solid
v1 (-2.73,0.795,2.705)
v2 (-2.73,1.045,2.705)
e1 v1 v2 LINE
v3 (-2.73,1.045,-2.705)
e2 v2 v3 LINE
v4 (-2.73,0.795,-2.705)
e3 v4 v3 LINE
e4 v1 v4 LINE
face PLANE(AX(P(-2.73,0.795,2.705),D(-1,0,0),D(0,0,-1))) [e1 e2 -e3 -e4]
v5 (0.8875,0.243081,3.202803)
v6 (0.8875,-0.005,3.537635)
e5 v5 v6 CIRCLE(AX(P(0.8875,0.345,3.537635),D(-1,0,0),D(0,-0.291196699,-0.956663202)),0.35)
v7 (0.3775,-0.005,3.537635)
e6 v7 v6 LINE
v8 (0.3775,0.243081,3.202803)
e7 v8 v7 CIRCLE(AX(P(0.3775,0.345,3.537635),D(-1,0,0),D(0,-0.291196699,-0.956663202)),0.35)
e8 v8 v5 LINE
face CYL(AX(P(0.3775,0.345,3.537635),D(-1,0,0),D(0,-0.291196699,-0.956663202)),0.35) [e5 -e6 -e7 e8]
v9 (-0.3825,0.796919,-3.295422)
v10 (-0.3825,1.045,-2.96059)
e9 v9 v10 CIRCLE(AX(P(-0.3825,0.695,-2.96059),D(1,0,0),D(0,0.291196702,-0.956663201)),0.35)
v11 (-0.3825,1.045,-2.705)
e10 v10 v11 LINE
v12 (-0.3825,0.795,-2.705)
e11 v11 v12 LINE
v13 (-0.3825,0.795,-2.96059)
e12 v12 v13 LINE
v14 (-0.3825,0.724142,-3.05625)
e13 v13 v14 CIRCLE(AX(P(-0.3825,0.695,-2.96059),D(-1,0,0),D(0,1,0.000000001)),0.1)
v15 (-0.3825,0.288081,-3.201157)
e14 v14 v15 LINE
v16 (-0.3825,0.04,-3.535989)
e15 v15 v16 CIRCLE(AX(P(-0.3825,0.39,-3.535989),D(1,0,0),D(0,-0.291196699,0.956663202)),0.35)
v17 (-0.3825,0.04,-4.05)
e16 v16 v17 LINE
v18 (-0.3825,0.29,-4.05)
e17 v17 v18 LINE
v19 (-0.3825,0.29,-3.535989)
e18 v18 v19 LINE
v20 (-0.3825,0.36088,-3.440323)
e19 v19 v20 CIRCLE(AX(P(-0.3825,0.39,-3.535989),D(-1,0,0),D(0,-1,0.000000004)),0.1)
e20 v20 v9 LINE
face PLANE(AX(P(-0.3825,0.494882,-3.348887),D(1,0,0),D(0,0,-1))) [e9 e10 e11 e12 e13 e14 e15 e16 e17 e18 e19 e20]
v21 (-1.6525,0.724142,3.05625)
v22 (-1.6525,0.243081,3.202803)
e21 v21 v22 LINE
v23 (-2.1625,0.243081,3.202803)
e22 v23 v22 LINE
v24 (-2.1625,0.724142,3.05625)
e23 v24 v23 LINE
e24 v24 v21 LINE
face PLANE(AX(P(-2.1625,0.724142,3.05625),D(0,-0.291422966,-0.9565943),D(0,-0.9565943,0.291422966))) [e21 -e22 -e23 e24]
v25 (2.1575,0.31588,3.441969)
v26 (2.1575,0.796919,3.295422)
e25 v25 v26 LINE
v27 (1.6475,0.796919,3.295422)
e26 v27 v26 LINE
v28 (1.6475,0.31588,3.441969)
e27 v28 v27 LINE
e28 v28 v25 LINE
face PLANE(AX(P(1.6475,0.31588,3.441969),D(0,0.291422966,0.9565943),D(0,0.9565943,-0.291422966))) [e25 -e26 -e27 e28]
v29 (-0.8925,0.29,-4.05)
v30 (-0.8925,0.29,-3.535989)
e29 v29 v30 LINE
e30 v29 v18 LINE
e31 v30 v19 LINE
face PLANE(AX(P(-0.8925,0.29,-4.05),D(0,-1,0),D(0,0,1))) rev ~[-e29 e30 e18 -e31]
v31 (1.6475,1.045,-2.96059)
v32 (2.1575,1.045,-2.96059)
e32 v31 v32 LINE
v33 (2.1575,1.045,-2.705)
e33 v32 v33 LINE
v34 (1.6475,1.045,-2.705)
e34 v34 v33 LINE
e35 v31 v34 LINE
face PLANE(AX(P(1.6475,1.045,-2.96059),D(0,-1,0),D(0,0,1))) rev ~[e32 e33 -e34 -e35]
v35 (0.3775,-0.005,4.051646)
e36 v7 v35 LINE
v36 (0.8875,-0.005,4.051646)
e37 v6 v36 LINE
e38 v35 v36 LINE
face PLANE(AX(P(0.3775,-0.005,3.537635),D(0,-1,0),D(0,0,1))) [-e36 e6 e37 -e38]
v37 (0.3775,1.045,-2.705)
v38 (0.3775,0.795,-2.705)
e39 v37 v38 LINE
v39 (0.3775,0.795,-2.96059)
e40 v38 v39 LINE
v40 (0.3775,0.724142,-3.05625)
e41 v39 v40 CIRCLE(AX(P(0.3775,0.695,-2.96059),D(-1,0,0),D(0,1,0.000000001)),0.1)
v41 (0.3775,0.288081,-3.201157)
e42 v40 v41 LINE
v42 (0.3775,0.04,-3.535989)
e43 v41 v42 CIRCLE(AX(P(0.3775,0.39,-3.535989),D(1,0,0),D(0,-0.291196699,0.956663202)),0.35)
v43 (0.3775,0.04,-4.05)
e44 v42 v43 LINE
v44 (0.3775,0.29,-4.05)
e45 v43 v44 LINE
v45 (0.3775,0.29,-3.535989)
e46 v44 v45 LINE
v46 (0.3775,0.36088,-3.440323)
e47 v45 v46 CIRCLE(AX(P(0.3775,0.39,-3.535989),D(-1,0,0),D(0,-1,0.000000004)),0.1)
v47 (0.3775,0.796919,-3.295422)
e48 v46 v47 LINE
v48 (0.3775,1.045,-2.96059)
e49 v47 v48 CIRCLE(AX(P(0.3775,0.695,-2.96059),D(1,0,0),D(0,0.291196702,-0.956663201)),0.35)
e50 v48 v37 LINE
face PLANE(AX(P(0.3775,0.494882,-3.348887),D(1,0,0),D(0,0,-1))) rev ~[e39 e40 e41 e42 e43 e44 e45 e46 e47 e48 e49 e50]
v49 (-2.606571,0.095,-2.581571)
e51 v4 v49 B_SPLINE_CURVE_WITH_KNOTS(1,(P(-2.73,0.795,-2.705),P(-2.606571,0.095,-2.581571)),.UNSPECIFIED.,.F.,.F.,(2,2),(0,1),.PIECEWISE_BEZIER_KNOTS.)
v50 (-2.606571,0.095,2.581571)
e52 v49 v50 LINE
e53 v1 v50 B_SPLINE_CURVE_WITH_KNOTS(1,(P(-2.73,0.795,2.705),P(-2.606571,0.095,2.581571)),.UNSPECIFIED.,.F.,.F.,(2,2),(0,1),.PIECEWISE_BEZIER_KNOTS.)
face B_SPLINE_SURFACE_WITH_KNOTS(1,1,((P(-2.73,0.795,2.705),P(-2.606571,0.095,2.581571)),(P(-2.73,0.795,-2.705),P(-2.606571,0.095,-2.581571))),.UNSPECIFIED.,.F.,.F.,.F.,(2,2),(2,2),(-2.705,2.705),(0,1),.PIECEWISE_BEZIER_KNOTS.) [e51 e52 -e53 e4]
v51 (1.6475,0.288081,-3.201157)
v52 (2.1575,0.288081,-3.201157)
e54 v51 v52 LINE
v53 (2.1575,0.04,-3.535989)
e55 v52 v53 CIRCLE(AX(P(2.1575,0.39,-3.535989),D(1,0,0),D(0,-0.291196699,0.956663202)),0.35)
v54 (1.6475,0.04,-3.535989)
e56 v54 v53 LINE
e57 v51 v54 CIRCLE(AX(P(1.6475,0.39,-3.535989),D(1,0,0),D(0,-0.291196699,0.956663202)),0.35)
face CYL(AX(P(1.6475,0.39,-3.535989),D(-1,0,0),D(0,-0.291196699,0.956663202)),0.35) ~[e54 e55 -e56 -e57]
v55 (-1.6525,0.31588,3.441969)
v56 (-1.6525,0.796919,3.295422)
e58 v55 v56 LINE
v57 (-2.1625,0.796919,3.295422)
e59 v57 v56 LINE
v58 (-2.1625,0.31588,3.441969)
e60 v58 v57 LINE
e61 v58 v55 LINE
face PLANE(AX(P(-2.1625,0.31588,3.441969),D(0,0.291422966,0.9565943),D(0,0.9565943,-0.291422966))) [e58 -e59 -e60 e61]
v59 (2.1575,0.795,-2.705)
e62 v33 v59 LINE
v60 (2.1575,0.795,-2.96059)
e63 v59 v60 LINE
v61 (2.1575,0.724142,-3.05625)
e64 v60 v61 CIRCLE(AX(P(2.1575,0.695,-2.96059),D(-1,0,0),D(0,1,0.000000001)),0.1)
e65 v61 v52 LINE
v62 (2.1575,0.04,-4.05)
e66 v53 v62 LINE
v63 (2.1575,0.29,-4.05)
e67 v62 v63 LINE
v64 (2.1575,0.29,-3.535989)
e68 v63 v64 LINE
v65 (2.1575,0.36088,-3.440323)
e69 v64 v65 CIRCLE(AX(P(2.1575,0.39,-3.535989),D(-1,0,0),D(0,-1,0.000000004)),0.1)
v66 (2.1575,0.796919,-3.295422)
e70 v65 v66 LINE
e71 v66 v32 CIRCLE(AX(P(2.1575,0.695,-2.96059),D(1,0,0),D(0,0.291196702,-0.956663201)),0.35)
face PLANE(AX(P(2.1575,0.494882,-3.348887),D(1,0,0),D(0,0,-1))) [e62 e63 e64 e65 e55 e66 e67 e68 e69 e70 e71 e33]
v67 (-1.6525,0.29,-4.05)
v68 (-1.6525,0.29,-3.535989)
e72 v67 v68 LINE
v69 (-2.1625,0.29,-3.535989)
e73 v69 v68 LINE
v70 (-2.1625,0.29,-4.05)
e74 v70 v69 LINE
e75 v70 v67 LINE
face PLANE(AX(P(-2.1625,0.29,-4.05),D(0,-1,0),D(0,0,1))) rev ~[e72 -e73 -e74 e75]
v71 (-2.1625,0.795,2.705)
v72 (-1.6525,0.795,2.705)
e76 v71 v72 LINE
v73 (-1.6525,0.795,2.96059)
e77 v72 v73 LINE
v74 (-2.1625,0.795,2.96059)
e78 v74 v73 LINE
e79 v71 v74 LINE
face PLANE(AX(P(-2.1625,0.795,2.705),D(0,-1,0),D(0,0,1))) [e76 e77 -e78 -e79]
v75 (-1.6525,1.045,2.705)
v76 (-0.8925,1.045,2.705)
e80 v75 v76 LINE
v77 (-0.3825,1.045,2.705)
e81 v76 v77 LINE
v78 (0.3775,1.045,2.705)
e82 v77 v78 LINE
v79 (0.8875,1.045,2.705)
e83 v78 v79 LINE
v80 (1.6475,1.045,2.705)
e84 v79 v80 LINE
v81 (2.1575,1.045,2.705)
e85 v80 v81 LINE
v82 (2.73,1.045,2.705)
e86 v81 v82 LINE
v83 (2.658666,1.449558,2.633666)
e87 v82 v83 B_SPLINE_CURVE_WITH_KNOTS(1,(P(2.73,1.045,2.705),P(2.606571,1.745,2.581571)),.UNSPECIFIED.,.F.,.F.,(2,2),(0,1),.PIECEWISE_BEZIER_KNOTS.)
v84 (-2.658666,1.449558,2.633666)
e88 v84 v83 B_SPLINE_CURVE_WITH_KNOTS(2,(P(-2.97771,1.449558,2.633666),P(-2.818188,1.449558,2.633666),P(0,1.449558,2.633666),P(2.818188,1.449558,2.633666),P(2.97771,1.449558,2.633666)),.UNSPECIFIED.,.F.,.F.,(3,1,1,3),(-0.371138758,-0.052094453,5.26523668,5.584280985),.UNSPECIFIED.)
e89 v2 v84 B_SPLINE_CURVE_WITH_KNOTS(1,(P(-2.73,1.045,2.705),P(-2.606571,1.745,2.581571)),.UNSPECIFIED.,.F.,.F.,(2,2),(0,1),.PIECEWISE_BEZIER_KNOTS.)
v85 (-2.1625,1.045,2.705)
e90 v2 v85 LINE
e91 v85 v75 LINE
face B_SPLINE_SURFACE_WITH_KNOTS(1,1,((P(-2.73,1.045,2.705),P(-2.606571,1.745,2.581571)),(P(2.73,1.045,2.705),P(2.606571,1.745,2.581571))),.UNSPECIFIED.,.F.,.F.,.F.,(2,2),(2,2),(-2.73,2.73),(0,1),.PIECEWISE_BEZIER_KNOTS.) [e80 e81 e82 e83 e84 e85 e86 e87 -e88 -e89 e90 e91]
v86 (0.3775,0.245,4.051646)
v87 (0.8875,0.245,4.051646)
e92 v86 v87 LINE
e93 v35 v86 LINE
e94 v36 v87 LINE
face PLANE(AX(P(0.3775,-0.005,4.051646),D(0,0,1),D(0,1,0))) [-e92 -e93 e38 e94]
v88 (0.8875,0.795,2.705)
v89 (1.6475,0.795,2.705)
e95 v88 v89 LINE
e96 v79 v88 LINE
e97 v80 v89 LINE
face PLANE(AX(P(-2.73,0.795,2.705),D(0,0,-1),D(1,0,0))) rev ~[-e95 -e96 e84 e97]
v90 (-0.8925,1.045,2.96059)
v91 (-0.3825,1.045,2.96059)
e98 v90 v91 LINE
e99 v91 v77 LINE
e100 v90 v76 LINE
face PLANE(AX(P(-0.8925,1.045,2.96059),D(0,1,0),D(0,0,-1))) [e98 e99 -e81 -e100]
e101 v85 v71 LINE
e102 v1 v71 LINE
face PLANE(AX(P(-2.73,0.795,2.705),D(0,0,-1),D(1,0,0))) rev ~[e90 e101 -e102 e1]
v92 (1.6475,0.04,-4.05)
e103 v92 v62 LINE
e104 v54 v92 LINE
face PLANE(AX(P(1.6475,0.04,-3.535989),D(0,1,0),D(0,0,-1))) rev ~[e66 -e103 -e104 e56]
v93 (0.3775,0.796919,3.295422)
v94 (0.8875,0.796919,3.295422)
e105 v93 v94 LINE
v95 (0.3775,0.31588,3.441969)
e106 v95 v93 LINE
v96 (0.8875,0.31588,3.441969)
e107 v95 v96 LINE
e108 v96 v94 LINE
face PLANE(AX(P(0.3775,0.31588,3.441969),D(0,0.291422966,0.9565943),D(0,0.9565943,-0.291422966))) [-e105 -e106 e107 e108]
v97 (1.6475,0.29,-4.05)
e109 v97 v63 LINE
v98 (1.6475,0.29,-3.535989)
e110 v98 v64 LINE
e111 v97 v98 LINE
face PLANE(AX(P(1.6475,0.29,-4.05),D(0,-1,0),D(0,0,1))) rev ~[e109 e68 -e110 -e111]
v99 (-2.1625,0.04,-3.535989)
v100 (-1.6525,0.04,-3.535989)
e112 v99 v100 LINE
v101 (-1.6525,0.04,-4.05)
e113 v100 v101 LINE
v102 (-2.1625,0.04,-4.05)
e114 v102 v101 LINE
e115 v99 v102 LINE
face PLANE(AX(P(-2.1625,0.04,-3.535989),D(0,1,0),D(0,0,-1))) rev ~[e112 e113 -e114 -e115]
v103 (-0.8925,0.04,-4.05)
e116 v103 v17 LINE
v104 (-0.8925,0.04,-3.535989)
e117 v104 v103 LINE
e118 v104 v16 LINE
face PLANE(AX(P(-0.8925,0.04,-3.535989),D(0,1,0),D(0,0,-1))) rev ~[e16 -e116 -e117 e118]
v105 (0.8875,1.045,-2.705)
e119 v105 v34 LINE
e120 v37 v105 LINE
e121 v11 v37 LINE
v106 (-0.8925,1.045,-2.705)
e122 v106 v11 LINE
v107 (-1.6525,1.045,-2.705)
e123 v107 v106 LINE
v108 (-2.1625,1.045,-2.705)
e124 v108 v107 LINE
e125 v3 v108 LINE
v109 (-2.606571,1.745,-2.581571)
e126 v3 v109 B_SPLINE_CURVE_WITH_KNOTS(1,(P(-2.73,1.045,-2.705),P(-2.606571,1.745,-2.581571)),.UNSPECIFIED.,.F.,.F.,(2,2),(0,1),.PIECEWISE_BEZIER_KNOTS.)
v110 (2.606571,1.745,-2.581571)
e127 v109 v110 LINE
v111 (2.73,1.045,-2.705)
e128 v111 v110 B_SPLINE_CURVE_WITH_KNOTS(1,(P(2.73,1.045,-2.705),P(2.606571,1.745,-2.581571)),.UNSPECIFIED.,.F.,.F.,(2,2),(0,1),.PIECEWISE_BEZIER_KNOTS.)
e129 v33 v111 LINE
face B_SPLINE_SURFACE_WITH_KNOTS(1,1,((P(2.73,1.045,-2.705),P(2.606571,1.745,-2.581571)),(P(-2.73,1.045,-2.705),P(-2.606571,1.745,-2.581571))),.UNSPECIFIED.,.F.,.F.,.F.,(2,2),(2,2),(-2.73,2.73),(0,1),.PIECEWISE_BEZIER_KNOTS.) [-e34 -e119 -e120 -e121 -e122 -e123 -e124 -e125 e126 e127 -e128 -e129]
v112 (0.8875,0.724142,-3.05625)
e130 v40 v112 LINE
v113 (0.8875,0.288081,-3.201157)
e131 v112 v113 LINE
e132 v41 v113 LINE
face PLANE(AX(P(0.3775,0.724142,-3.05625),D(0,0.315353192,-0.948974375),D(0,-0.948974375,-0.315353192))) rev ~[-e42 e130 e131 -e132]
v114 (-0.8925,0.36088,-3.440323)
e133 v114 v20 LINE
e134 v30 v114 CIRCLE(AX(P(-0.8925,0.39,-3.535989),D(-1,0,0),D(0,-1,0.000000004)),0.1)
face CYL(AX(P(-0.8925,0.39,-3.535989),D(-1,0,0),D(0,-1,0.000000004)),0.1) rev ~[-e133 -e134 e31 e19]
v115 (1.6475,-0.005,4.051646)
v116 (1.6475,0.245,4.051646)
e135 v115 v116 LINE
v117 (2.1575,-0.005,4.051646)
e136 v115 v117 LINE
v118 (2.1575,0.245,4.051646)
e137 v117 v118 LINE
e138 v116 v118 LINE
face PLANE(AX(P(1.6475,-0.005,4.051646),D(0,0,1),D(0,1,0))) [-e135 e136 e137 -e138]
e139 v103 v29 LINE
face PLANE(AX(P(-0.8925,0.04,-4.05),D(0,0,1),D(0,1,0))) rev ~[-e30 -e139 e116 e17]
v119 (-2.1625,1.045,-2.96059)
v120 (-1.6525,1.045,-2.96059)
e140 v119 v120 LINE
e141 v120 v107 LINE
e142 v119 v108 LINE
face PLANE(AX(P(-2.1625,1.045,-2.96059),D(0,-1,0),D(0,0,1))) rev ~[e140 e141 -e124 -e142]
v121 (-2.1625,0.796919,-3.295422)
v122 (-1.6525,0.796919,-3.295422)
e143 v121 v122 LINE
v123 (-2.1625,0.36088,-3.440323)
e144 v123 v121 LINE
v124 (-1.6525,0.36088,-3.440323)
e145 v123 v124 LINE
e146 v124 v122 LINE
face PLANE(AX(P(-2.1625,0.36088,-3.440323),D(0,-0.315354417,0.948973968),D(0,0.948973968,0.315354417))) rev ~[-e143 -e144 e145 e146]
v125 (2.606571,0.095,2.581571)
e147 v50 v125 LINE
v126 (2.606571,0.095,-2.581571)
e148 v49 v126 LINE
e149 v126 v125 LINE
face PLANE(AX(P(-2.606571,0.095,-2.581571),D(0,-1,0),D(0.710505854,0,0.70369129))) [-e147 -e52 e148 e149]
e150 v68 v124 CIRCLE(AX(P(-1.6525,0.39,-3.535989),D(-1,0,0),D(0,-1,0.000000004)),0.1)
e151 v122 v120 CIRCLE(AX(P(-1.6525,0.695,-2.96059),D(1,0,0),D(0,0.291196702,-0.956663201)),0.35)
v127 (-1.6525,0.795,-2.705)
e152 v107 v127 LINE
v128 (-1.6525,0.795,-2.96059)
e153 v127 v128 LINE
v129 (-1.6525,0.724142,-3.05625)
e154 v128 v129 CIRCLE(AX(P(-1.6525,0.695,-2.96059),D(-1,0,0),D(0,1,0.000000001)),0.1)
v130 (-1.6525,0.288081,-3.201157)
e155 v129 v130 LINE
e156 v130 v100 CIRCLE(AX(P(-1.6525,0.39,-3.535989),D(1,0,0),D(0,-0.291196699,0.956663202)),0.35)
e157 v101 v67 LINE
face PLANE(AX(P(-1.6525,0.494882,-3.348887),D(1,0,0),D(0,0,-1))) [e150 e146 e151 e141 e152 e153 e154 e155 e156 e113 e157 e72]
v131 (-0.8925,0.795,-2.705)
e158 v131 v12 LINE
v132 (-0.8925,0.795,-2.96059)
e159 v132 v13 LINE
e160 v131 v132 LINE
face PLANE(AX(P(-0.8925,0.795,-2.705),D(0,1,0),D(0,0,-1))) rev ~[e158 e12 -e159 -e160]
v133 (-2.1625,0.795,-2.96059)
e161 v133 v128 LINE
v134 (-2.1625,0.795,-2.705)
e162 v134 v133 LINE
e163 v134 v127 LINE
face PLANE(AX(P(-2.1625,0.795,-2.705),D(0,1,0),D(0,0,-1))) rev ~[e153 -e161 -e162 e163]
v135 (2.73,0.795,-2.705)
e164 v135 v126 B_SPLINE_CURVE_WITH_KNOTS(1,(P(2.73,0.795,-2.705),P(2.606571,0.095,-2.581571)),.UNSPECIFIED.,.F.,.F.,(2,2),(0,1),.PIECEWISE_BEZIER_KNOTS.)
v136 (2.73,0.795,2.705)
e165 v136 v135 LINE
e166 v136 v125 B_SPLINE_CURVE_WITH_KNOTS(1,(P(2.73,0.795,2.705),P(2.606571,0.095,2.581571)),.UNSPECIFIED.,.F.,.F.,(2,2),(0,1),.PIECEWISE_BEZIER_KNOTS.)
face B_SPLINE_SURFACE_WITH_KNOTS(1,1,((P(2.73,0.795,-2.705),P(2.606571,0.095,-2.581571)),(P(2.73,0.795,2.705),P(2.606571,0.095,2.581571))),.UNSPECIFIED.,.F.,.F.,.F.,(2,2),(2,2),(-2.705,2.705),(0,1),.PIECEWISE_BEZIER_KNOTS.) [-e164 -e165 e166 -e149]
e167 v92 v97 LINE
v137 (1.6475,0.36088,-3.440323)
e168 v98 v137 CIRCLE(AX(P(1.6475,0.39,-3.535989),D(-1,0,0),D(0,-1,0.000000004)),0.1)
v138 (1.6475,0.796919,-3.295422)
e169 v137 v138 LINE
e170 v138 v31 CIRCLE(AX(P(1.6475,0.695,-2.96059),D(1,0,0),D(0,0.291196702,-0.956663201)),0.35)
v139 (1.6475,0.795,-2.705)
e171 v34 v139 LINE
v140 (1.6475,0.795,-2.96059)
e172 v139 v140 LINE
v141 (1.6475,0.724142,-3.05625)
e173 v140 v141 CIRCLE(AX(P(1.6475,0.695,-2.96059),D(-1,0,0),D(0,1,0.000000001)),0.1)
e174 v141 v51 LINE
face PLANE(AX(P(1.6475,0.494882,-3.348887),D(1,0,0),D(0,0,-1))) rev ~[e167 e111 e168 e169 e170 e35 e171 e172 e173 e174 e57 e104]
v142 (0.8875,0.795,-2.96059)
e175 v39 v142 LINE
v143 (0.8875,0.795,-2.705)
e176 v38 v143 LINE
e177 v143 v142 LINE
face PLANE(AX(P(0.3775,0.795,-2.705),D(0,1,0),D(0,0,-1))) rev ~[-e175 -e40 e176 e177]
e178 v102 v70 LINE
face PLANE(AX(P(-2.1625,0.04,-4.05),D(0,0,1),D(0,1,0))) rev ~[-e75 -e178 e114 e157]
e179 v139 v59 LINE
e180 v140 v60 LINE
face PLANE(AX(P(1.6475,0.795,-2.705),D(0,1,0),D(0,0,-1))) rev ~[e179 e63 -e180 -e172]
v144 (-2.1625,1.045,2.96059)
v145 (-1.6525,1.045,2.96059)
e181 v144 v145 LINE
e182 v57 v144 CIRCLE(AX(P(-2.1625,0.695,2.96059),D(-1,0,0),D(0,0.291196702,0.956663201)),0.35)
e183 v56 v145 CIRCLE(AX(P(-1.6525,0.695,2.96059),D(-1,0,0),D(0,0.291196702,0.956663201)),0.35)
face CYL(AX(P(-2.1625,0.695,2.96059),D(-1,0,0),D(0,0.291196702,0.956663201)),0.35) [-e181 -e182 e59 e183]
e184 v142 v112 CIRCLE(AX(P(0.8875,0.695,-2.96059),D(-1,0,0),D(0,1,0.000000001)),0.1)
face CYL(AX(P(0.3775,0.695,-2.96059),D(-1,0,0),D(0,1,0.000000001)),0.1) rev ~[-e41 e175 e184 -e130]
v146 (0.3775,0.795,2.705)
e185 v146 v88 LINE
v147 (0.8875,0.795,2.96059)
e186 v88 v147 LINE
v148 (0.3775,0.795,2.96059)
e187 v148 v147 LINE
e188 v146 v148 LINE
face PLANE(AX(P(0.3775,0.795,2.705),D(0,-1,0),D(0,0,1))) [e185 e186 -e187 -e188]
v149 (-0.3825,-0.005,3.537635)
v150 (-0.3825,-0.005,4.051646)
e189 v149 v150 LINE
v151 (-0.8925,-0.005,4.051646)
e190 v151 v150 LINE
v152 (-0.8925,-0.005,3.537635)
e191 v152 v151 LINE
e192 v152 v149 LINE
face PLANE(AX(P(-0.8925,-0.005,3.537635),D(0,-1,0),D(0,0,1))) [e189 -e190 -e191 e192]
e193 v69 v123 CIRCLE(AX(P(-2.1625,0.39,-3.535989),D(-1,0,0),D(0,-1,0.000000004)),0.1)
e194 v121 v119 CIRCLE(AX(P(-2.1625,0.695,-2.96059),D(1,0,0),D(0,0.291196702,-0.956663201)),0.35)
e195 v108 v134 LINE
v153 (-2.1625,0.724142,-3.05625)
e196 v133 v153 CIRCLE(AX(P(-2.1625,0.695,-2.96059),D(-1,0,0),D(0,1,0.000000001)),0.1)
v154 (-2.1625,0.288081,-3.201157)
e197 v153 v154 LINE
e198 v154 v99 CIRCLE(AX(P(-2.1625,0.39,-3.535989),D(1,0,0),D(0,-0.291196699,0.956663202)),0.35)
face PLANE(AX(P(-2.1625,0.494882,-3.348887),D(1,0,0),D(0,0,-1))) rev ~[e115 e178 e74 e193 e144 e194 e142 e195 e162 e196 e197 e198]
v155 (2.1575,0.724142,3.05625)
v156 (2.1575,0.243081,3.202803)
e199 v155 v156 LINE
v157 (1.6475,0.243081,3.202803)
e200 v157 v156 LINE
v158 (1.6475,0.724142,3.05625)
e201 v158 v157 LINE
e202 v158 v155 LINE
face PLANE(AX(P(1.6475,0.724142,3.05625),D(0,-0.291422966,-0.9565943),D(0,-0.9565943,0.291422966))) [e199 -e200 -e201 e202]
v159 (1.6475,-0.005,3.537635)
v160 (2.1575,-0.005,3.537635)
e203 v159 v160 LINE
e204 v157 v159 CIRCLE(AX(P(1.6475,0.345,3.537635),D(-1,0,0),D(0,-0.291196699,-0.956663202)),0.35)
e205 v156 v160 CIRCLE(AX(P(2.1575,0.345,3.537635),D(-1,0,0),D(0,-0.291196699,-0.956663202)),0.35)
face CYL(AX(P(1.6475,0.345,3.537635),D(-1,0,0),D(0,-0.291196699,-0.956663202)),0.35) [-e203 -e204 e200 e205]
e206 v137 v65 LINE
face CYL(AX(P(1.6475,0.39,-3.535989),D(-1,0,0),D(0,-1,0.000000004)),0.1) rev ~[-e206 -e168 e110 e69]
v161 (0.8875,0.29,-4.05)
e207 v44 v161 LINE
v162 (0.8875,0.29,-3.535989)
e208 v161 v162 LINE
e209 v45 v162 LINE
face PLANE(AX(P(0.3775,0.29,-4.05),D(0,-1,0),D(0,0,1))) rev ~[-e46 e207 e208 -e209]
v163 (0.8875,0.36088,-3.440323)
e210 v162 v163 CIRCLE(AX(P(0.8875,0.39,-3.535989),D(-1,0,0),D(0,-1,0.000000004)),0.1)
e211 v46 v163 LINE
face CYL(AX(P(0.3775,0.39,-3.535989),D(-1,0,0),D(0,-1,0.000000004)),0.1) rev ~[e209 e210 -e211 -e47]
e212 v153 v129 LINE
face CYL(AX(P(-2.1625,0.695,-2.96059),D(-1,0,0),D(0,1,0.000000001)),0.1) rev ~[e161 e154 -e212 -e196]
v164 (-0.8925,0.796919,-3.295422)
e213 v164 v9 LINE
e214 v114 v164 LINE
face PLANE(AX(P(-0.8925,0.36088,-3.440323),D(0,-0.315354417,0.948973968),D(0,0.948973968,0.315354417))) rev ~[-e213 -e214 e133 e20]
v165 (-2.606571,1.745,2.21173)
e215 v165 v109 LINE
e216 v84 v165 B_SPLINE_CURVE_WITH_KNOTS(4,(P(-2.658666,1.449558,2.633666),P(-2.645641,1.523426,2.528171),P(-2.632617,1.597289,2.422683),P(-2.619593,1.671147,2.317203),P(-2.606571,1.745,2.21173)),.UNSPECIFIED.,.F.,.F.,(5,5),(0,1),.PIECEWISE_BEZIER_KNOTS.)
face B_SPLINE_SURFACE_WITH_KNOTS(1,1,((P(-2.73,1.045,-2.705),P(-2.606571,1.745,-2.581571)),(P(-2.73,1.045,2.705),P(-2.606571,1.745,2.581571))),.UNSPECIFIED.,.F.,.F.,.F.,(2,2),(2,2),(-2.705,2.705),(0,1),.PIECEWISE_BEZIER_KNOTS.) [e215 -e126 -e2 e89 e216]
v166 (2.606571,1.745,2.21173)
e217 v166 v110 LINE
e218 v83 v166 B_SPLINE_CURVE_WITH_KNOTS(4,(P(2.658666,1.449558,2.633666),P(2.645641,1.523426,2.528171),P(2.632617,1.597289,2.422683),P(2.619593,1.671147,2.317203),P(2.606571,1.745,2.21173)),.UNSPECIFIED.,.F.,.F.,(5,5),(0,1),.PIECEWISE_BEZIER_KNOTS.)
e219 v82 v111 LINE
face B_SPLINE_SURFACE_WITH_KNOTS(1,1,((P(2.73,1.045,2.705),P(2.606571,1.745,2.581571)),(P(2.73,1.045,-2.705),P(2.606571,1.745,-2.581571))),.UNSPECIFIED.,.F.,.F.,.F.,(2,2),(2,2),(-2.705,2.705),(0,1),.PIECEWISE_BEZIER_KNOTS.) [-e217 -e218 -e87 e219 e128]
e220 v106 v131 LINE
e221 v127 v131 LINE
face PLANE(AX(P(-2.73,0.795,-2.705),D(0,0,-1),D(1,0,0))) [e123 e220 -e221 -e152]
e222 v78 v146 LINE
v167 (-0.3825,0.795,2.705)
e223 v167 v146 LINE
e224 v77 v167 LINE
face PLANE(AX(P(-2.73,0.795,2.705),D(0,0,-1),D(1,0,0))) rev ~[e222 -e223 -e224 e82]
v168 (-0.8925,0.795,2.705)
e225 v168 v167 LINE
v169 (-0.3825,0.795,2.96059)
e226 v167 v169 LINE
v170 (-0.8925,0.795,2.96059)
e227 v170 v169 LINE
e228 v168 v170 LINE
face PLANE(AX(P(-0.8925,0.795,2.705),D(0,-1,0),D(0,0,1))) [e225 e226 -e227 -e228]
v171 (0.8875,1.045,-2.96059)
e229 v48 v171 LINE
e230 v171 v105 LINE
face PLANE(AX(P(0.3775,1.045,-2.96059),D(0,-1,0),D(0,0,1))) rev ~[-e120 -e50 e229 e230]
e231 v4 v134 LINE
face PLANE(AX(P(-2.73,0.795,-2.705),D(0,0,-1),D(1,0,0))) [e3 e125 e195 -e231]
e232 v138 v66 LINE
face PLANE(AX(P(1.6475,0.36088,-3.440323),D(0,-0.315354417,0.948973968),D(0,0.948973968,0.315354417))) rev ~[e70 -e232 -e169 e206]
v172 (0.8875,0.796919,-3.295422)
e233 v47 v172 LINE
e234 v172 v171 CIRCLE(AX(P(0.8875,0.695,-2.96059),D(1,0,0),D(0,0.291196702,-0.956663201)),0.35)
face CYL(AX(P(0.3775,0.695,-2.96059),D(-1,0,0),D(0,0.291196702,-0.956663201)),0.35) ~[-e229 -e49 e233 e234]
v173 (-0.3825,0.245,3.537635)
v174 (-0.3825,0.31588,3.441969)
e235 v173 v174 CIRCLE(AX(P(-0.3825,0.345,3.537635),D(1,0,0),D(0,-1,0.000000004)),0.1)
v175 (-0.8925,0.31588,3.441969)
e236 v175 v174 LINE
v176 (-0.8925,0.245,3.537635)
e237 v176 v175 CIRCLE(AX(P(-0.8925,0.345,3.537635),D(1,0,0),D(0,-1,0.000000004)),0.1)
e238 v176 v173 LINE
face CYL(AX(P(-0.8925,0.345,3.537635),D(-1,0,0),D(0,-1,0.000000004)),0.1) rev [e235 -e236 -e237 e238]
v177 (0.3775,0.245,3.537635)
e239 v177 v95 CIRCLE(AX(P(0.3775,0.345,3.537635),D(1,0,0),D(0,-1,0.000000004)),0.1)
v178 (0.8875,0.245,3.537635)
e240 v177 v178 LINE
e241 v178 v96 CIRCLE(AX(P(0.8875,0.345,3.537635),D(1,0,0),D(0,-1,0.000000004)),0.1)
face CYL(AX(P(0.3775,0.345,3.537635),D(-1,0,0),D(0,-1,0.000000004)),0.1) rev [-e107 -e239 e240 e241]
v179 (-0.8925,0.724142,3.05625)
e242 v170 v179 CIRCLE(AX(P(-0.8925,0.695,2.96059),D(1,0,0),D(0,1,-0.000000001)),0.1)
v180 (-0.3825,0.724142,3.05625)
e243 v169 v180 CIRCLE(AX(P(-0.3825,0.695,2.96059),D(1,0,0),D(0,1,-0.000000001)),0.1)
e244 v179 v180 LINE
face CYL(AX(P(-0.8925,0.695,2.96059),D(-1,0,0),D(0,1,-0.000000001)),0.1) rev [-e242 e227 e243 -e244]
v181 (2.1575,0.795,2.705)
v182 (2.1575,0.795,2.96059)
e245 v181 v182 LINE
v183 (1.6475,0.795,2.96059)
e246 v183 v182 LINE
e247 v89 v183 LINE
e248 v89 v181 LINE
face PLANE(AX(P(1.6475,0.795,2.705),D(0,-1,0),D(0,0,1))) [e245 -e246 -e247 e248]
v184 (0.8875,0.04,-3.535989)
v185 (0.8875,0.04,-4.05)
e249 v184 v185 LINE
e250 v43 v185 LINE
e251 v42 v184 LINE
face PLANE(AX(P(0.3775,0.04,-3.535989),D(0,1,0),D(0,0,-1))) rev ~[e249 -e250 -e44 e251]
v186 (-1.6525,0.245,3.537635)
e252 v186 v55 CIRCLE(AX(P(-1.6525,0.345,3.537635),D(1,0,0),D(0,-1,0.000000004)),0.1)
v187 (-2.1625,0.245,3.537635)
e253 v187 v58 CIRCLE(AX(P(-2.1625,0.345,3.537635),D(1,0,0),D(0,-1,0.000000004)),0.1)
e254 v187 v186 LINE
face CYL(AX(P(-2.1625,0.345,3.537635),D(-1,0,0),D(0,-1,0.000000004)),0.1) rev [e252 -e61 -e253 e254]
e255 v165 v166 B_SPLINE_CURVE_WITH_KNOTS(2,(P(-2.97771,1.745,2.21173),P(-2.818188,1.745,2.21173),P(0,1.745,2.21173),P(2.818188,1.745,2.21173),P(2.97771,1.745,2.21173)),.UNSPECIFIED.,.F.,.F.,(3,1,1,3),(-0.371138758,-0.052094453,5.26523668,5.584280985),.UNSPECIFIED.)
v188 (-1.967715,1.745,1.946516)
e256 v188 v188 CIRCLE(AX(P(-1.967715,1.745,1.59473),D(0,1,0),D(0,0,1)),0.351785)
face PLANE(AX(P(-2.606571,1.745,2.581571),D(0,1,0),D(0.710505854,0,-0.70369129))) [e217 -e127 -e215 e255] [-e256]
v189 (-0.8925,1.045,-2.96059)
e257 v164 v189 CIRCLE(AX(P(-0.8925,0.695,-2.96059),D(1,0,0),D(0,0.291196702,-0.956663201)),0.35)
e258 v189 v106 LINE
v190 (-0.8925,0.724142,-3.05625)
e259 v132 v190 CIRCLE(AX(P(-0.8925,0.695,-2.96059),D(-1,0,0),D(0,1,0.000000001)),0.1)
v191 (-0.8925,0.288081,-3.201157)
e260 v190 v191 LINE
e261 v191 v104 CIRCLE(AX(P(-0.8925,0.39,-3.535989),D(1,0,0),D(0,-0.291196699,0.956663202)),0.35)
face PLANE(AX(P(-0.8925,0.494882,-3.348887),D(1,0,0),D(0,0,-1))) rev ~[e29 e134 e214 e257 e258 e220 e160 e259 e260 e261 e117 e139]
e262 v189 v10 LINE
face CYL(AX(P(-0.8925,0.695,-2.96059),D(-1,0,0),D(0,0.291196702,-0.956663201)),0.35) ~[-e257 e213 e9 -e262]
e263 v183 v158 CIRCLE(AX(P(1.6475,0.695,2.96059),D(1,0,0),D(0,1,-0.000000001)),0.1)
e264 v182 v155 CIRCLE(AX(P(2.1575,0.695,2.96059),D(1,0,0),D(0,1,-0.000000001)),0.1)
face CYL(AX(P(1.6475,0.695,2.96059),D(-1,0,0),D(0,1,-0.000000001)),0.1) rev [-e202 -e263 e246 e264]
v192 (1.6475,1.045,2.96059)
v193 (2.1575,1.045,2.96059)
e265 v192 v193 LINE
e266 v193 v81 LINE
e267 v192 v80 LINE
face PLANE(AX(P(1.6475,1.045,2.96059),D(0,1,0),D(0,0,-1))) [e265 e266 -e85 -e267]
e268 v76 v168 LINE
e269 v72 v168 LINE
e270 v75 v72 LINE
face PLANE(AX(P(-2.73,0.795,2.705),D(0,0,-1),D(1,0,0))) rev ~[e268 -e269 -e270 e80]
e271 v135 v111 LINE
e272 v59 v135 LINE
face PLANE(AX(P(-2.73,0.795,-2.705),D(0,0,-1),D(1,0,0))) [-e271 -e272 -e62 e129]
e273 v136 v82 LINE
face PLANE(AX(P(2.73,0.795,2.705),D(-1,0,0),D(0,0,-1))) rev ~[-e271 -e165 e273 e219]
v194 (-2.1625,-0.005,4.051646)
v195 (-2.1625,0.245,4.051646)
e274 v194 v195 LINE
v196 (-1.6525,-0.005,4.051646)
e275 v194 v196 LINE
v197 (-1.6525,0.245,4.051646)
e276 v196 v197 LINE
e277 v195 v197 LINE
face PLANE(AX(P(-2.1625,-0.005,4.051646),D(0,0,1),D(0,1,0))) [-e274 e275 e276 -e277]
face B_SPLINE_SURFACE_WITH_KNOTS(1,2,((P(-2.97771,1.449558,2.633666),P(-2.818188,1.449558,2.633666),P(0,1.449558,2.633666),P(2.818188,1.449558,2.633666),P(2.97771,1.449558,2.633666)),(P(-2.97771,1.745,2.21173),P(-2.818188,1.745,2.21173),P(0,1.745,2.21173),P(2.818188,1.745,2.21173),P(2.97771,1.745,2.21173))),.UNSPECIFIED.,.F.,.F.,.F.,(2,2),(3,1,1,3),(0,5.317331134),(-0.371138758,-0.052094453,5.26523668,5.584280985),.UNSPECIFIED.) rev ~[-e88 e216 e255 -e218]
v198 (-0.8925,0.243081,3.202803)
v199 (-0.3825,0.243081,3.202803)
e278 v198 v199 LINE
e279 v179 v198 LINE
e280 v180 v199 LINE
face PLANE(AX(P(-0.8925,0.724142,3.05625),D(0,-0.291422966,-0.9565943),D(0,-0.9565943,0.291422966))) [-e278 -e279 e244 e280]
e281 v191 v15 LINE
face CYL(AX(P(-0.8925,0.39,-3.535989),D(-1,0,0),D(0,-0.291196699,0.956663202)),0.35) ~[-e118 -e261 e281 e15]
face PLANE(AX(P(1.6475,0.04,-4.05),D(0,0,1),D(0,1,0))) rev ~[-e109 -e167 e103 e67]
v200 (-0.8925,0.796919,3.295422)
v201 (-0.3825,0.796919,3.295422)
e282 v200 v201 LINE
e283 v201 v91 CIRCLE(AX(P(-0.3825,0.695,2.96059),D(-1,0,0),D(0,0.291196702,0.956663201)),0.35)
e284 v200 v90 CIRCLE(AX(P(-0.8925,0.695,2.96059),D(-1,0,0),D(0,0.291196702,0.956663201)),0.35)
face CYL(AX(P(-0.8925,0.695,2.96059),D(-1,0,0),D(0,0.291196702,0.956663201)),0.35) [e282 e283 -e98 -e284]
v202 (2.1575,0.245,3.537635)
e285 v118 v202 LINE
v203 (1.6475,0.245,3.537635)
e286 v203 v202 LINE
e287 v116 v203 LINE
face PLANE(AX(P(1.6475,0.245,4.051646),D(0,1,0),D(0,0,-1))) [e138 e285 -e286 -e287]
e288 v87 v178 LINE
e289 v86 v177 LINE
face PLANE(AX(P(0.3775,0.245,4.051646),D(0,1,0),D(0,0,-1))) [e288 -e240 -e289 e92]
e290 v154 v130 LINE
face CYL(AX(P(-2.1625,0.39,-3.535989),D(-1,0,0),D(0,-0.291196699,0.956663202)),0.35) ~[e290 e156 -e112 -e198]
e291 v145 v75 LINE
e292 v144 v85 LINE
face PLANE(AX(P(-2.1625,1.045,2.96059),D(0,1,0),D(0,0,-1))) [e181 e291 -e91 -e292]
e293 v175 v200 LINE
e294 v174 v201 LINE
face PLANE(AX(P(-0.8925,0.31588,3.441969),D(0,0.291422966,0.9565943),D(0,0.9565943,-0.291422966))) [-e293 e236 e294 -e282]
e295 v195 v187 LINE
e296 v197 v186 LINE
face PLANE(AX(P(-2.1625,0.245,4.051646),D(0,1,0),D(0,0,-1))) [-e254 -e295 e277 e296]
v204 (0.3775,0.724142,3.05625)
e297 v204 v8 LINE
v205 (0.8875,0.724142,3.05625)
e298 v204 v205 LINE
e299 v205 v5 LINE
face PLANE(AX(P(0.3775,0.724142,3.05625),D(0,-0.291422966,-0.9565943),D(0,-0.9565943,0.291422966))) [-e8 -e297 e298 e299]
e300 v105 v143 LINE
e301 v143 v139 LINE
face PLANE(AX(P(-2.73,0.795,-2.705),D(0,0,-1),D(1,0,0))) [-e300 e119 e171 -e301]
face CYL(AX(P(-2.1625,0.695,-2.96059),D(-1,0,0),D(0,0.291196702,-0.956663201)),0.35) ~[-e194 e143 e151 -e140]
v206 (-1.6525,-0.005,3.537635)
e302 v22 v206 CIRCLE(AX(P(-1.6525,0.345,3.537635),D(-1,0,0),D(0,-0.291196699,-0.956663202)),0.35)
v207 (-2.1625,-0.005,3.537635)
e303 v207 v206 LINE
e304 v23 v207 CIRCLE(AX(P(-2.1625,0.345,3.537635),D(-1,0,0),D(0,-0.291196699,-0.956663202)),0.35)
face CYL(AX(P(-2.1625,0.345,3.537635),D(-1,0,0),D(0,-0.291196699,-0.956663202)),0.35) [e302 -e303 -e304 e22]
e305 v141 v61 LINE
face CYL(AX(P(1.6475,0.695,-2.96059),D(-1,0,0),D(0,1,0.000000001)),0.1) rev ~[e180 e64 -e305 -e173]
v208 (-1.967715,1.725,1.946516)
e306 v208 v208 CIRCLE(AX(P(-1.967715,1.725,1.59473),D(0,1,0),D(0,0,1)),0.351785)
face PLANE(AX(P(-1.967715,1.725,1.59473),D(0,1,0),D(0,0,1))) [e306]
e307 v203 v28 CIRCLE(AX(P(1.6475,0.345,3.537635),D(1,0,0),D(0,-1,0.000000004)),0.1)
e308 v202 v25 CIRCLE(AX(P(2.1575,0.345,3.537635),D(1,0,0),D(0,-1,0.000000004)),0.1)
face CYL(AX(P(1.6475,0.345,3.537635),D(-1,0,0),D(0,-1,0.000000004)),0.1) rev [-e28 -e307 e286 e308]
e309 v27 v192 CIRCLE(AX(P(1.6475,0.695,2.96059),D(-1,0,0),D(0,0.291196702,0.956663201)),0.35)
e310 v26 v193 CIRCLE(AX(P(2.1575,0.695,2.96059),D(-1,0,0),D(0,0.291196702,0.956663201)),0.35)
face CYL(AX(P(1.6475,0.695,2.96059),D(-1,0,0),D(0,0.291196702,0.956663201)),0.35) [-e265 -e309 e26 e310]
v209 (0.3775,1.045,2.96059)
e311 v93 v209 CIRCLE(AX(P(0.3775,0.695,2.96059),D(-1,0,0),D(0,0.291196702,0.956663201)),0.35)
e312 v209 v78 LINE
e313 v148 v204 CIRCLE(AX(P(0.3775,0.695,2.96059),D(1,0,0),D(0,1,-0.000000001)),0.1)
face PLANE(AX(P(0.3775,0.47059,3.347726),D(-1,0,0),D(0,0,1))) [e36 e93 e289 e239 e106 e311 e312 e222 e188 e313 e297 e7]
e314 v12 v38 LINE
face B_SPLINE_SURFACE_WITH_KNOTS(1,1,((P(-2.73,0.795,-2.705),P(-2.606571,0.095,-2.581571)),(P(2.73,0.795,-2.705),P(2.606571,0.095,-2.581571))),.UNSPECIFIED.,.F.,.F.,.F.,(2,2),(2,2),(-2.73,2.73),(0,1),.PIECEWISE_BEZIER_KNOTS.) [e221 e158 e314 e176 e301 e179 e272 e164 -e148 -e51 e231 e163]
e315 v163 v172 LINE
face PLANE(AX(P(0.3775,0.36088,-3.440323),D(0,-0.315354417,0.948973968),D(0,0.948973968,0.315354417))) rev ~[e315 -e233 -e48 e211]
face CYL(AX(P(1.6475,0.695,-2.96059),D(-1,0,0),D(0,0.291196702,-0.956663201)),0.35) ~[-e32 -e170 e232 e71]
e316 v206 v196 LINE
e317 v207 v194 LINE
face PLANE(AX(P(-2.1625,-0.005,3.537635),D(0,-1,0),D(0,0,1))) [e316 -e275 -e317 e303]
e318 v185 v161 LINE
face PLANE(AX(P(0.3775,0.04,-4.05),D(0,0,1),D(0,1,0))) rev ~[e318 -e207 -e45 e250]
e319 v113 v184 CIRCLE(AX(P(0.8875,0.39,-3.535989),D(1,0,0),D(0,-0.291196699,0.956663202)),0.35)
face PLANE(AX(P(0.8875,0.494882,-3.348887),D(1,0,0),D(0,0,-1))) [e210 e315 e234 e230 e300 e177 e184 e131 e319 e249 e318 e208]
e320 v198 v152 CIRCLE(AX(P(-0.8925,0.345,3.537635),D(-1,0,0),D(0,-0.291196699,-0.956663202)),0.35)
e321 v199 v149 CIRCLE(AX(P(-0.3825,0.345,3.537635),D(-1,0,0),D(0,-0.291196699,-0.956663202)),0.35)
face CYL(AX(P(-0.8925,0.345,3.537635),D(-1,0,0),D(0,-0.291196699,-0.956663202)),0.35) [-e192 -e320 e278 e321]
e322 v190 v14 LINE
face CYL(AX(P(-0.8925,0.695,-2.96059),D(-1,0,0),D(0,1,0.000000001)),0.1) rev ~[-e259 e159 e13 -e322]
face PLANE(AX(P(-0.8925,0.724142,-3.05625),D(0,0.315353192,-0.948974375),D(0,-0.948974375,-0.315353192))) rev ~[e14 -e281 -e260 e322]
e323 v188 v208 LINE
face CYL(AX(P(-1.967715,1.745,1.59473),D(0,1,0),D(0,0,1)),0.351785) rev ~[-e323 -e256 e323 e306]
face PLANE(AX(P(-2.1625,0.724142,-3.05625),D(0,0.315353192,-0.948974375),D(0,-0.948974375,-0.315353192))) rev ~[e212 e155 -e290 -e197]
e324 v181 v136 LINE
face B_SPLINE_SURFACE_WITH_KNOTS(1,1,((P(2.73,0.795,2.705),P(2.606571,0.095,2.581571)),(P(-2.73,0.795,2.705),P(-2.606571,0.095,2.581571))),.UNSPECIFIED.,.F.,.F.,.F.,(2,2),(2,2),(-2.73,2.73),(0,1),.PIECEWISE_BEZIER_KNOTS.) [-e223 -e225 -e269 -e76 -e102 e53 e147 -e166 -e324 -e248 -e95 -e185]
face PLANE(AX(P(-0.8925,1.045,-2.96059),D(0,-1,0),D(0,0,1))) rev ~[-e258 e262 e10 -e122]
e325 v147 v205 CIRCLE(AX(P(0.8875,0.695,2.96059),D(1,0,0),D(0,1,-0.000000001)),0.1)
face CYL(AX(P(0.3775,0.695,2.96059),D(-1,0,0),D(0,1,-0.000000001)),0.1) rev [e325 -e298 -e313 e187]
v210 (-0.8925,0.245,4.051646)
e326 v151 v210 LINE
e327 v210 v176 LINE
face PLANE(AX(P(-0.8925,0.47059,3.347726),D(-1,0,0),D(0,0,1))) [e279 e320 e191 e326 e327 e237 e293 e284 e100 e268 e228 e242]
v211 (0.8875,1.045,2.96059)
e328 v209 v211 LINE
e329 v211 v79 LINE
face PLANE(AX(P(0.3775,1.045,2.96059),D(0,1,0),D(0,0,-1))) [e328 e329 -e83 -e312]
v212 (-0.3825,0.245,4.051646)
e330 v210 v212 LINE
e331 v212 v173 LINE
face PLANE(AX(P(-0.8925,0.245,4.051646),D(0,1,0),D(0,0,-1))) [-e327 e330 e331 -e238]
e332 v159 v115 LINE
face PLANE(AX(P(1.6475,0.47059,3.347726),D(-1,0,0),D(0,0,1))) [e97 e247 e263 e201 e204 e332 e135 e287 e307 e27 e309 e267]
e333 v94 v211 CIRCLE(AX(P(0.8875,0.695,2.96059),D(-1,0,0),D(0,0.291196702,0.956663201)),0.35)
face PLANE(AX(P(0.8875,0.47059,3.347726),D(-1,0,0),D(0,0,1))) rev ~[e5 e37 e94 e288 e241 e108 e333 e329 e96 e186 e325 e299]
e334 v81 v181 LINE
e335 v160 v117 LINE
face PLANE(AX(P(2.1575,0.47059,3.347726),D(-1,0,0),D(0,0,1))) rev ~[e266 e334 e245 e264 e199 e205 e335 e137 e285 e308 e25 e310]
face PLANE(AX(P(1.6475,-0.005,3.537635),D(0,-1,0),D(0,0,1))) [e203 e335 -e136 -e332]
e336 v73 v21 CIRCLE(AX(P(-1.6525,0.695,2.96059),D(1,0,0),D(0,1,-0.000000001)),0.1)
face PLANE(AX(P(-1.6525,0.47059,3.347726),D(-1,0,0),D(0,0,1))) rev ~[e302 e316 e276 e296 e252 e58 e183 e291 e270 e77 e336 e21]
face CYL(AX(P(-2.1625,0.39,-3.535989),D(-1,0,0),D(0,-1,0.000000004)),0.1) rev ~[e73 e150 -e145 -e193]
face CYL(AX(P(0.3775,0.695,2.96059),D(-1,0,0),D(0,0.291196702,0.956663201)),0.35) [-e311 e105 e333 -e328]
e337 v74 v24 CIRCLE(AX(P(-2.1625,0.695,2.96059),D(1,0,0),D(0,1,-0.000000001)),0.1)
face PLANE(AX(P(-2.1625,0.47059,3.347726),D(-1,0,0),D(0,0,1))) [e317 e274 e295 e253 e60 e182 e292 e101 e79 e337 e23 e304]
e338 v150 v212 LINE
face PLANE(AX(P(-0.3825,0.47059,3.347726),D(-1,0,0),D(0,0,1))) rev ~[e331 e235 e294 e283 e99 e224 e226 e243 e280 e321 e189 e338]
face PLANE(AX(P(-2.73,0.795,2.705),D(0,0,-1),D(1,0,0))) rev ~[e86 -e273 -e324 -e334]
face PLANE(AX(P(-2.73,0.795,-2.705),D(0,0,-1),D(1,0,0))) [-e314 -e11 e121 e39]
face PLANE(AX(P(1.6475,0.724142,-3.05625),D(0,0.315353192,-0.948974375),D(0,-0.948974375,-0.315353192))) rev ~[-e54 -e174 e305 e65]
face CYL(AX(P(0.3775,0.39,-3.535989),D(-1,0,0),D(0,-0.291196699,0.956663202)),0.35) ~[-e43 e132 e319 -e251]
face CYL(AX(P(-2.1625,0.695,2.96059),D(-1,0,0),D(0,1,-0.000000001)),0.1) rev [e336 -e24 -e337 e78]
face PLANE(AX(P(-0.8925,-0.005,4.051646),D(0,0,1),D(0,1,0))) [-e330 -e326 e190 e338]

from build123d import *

# Parameters (mm, degrees)
BOSS_EXTRUDE1_DEPTH      = 0.125
BOSS_EXTRUDE1_DEPTH_BACK = 0.125
SKETCH1_W                = 5.46
SKETCH1_H                = 5.41
SKETCH2_W                = 5.46
SKETCH2_H                = 5.41
BOSS_EXTRUDE2_DEPTH      = 0.7
BOSS_EXTRUDE2_TAPER      = 10
SKETCH3_W                = 5.46
SKETCH3_H                = 5.41
BOSS_EXTRUDE3_DEPTH      = 0.7
BOSS_EXTRUDE3_TAPER      = 10
CHAMFER1_SIZE            = 0.3
CHAMFER1_SIZE2           = 0.369840916
BOSS_EXTRUDE4_START      = 0.3775
BOSS_EXTRUDE4_DEPTH      = 0.51
LPATTERN1_COUNT          = 2
LPATTERN1_PITCH          = 1.27
LPATTERN1_COL_COUNT      = 3
LPATTERN1_COL_PITCH      = 1.27
SKETCH6_R                = 0.351785146
CUT_EXTRUDE1_DEPTH       = 0.02


with BuildPart() as part:
    # Sketch1 → Boss-Extrude1 (new, two sides: drawn at the far end of the back side and taken through both)
    with BuildSketch(Plane(origin=(0, 0.92, 0), x_dir=(1, 0, 0), z_dir=(0, 1, 0)).offset(-BOSS_EXTRUDE1_DEPTH_BACK)):
        Rectangle(SKETCH1_W, SKETCH1_H)
    extrude(amount=BOSS_EXTRUDE1_DEPTH + BOSS_EXTRUDE1_DEPTH_BACK)

    # Sketch2 → Boss-Extrude2 (add)
    with BuildSketch(Plane(origin=(0, 1.045, 0), x_dir=(1, 0, 0), z_dir=(0, 1, 0))):
        Rectangle(SKETCH2_W, SKETCH2_H)
    extrude(amount=BOSS_EXTRUDE2_DEPTH, taper=BOSS_EXTRUDE2_TAPER)

    # Sketch3 → Boss-Extrude3 (add)
    with BuildSketch(Plane.XZ.offset(-0.795)):
        Rectangle(SKETCH3_W, SKETCH3_H)
    extrude(amount=BOSS_EXTRUDE3_DEPTH, taper=BOSS_EXTRUDE3_TAPER)

    # Chamfer1
    chamfer1_edges = [part.edges().sort_by_distance(p)[0] for p in [
        (0, 1.745, 2.581571114),
    ]]
    chamfer1_side = [part.faces().sort_by_distance(p)[0] for p in [
        (0, 1.392301631, 2.643761352),
    ]]
    chamfer(chamfer1_edges, length=CHAMFER1_SIZE, length2=CHAMFER1_SIZE2, reference=chamfer1_side[0])

    # Sketch5 → Boss-Extrude4 (add)
    with BuildSketch(Plane(origin=(0, 0, 0), x_dir=(0, 0, -1), z_dir=(1, 0, 0)).offset(BOSS_EXTRUDE4_START)):
        with BuildLine():
            ThreePointArc((-3.20280312, 0.243081155), (-3.329274491, 0.063778027), (-3.537635241, -0.005))
            Line((-3.537635241, -0.005), (-4.051646267, -0.005))
            Line((-4.051646267, -0.005), (-4.051646267, 0.245))
            Line((-4.051646267, 0.245), (-3.537635241, 0.245))
            ThreePointArc((-3.537635241, 0.245), (-3.478103598, 0.264650865), (-3.441968921, 0.31588033))
            Line((-3.441968921, 0.31588033), (-3.295422291, 0.796918845))
            ThreePointArc((-3.295422291, 0.796918845), (-3.168950919, 0.976221974), (-2.960590167, 1.045000002))
            Line((-2.960590167, 1.045000002), (-2.704999997, 1.045000002))
            Line((-2.704999997, 1.045000002), (-2.704999997, 0.794999999))
            Line((-2.704999997, 0.794999999), (-2.960590167, 0.794999999))
            ThreePointArc((-2.960590167, 0.794999999), (-3.020112307, 0.775356174), (-3.056249597, 0.724142296))
            Line((-3.056249597, 0.724142296), (-3.20280312, 0.243081155))
        make_face()
        with BuildLine():
            Line((2.704999997, 0.794999999), (2.960590167, 0.794999999))
            ThreePointArc((2.960590167, 0.794999999), (3.020112307, 0.775356174), (3.056249597, 0.724142296))
            Line((3.056249597, 0.724142296), (3.201156853, 0.288081155))
            ThreePointArc((3.201156853, 0.288081155), (3.327628224, 0.108778027), (3.535988974, 0.04))
            Line((3.535988974, 0.04), (4.05, 0.04))
            Line((4.05, 0.04), (4.05, 0.29))
            Line((4.05, 0.29), (3.535988974, 0.29))
            ThreePointArc((3.535988974, 0.29), (3.476457331, 0.309650865), (3.440322653, 0.36088033))
            Line((3.440322653, 0.36088033), (3.295422291, 0.796918845))
            ThreePointArc((3.295422291, 0.796918845), (3.168950919, 0.976221974), (2.960590167, 1.045000002))
            Line((2.960590167, 1.045000002), (2.704999997, 1.045000002))
            Line((2.704999997, 1.045000002), (2.704999997, 0.794999999))
        make_face()
    boss_extrude4 = extrude(amount=BOSS_EXTRUDE4_DEPTH)

    # LPattern1: Boss-Extrude4 ×2
    with Locations(*[(i * LPATTERN1_PITCH, 0, 0) for i in range(1, LPATTERN1_COUNT)]):
        add(boss_extrude4)

    # LPattern1 col: Boss-Extrude4 ×3
    with Locations(*[(-i * LPATTERN1_COL_PITCH, 0, 0) for i in range(1, LPATTERN1_COL_COUNT)]):
        add(boss_extrude4)

    # Sketch6 → Cut-Extrude1 (cut)
    with BuildSketch(Plane(origin=(0, 1.745, 0), x_dir=(1, 0, 0), z_dir=(0, 1, 0))):
        with Locations(Location((-1.967714846, -1.59473048, 0), (0, 0, 270))):
            Circle(SKETCH6_R)
    extrude(amount=-CUT_EXTRUDE1_DEPTH, mode=Mode.SUBTRACT)


solid = part.part
